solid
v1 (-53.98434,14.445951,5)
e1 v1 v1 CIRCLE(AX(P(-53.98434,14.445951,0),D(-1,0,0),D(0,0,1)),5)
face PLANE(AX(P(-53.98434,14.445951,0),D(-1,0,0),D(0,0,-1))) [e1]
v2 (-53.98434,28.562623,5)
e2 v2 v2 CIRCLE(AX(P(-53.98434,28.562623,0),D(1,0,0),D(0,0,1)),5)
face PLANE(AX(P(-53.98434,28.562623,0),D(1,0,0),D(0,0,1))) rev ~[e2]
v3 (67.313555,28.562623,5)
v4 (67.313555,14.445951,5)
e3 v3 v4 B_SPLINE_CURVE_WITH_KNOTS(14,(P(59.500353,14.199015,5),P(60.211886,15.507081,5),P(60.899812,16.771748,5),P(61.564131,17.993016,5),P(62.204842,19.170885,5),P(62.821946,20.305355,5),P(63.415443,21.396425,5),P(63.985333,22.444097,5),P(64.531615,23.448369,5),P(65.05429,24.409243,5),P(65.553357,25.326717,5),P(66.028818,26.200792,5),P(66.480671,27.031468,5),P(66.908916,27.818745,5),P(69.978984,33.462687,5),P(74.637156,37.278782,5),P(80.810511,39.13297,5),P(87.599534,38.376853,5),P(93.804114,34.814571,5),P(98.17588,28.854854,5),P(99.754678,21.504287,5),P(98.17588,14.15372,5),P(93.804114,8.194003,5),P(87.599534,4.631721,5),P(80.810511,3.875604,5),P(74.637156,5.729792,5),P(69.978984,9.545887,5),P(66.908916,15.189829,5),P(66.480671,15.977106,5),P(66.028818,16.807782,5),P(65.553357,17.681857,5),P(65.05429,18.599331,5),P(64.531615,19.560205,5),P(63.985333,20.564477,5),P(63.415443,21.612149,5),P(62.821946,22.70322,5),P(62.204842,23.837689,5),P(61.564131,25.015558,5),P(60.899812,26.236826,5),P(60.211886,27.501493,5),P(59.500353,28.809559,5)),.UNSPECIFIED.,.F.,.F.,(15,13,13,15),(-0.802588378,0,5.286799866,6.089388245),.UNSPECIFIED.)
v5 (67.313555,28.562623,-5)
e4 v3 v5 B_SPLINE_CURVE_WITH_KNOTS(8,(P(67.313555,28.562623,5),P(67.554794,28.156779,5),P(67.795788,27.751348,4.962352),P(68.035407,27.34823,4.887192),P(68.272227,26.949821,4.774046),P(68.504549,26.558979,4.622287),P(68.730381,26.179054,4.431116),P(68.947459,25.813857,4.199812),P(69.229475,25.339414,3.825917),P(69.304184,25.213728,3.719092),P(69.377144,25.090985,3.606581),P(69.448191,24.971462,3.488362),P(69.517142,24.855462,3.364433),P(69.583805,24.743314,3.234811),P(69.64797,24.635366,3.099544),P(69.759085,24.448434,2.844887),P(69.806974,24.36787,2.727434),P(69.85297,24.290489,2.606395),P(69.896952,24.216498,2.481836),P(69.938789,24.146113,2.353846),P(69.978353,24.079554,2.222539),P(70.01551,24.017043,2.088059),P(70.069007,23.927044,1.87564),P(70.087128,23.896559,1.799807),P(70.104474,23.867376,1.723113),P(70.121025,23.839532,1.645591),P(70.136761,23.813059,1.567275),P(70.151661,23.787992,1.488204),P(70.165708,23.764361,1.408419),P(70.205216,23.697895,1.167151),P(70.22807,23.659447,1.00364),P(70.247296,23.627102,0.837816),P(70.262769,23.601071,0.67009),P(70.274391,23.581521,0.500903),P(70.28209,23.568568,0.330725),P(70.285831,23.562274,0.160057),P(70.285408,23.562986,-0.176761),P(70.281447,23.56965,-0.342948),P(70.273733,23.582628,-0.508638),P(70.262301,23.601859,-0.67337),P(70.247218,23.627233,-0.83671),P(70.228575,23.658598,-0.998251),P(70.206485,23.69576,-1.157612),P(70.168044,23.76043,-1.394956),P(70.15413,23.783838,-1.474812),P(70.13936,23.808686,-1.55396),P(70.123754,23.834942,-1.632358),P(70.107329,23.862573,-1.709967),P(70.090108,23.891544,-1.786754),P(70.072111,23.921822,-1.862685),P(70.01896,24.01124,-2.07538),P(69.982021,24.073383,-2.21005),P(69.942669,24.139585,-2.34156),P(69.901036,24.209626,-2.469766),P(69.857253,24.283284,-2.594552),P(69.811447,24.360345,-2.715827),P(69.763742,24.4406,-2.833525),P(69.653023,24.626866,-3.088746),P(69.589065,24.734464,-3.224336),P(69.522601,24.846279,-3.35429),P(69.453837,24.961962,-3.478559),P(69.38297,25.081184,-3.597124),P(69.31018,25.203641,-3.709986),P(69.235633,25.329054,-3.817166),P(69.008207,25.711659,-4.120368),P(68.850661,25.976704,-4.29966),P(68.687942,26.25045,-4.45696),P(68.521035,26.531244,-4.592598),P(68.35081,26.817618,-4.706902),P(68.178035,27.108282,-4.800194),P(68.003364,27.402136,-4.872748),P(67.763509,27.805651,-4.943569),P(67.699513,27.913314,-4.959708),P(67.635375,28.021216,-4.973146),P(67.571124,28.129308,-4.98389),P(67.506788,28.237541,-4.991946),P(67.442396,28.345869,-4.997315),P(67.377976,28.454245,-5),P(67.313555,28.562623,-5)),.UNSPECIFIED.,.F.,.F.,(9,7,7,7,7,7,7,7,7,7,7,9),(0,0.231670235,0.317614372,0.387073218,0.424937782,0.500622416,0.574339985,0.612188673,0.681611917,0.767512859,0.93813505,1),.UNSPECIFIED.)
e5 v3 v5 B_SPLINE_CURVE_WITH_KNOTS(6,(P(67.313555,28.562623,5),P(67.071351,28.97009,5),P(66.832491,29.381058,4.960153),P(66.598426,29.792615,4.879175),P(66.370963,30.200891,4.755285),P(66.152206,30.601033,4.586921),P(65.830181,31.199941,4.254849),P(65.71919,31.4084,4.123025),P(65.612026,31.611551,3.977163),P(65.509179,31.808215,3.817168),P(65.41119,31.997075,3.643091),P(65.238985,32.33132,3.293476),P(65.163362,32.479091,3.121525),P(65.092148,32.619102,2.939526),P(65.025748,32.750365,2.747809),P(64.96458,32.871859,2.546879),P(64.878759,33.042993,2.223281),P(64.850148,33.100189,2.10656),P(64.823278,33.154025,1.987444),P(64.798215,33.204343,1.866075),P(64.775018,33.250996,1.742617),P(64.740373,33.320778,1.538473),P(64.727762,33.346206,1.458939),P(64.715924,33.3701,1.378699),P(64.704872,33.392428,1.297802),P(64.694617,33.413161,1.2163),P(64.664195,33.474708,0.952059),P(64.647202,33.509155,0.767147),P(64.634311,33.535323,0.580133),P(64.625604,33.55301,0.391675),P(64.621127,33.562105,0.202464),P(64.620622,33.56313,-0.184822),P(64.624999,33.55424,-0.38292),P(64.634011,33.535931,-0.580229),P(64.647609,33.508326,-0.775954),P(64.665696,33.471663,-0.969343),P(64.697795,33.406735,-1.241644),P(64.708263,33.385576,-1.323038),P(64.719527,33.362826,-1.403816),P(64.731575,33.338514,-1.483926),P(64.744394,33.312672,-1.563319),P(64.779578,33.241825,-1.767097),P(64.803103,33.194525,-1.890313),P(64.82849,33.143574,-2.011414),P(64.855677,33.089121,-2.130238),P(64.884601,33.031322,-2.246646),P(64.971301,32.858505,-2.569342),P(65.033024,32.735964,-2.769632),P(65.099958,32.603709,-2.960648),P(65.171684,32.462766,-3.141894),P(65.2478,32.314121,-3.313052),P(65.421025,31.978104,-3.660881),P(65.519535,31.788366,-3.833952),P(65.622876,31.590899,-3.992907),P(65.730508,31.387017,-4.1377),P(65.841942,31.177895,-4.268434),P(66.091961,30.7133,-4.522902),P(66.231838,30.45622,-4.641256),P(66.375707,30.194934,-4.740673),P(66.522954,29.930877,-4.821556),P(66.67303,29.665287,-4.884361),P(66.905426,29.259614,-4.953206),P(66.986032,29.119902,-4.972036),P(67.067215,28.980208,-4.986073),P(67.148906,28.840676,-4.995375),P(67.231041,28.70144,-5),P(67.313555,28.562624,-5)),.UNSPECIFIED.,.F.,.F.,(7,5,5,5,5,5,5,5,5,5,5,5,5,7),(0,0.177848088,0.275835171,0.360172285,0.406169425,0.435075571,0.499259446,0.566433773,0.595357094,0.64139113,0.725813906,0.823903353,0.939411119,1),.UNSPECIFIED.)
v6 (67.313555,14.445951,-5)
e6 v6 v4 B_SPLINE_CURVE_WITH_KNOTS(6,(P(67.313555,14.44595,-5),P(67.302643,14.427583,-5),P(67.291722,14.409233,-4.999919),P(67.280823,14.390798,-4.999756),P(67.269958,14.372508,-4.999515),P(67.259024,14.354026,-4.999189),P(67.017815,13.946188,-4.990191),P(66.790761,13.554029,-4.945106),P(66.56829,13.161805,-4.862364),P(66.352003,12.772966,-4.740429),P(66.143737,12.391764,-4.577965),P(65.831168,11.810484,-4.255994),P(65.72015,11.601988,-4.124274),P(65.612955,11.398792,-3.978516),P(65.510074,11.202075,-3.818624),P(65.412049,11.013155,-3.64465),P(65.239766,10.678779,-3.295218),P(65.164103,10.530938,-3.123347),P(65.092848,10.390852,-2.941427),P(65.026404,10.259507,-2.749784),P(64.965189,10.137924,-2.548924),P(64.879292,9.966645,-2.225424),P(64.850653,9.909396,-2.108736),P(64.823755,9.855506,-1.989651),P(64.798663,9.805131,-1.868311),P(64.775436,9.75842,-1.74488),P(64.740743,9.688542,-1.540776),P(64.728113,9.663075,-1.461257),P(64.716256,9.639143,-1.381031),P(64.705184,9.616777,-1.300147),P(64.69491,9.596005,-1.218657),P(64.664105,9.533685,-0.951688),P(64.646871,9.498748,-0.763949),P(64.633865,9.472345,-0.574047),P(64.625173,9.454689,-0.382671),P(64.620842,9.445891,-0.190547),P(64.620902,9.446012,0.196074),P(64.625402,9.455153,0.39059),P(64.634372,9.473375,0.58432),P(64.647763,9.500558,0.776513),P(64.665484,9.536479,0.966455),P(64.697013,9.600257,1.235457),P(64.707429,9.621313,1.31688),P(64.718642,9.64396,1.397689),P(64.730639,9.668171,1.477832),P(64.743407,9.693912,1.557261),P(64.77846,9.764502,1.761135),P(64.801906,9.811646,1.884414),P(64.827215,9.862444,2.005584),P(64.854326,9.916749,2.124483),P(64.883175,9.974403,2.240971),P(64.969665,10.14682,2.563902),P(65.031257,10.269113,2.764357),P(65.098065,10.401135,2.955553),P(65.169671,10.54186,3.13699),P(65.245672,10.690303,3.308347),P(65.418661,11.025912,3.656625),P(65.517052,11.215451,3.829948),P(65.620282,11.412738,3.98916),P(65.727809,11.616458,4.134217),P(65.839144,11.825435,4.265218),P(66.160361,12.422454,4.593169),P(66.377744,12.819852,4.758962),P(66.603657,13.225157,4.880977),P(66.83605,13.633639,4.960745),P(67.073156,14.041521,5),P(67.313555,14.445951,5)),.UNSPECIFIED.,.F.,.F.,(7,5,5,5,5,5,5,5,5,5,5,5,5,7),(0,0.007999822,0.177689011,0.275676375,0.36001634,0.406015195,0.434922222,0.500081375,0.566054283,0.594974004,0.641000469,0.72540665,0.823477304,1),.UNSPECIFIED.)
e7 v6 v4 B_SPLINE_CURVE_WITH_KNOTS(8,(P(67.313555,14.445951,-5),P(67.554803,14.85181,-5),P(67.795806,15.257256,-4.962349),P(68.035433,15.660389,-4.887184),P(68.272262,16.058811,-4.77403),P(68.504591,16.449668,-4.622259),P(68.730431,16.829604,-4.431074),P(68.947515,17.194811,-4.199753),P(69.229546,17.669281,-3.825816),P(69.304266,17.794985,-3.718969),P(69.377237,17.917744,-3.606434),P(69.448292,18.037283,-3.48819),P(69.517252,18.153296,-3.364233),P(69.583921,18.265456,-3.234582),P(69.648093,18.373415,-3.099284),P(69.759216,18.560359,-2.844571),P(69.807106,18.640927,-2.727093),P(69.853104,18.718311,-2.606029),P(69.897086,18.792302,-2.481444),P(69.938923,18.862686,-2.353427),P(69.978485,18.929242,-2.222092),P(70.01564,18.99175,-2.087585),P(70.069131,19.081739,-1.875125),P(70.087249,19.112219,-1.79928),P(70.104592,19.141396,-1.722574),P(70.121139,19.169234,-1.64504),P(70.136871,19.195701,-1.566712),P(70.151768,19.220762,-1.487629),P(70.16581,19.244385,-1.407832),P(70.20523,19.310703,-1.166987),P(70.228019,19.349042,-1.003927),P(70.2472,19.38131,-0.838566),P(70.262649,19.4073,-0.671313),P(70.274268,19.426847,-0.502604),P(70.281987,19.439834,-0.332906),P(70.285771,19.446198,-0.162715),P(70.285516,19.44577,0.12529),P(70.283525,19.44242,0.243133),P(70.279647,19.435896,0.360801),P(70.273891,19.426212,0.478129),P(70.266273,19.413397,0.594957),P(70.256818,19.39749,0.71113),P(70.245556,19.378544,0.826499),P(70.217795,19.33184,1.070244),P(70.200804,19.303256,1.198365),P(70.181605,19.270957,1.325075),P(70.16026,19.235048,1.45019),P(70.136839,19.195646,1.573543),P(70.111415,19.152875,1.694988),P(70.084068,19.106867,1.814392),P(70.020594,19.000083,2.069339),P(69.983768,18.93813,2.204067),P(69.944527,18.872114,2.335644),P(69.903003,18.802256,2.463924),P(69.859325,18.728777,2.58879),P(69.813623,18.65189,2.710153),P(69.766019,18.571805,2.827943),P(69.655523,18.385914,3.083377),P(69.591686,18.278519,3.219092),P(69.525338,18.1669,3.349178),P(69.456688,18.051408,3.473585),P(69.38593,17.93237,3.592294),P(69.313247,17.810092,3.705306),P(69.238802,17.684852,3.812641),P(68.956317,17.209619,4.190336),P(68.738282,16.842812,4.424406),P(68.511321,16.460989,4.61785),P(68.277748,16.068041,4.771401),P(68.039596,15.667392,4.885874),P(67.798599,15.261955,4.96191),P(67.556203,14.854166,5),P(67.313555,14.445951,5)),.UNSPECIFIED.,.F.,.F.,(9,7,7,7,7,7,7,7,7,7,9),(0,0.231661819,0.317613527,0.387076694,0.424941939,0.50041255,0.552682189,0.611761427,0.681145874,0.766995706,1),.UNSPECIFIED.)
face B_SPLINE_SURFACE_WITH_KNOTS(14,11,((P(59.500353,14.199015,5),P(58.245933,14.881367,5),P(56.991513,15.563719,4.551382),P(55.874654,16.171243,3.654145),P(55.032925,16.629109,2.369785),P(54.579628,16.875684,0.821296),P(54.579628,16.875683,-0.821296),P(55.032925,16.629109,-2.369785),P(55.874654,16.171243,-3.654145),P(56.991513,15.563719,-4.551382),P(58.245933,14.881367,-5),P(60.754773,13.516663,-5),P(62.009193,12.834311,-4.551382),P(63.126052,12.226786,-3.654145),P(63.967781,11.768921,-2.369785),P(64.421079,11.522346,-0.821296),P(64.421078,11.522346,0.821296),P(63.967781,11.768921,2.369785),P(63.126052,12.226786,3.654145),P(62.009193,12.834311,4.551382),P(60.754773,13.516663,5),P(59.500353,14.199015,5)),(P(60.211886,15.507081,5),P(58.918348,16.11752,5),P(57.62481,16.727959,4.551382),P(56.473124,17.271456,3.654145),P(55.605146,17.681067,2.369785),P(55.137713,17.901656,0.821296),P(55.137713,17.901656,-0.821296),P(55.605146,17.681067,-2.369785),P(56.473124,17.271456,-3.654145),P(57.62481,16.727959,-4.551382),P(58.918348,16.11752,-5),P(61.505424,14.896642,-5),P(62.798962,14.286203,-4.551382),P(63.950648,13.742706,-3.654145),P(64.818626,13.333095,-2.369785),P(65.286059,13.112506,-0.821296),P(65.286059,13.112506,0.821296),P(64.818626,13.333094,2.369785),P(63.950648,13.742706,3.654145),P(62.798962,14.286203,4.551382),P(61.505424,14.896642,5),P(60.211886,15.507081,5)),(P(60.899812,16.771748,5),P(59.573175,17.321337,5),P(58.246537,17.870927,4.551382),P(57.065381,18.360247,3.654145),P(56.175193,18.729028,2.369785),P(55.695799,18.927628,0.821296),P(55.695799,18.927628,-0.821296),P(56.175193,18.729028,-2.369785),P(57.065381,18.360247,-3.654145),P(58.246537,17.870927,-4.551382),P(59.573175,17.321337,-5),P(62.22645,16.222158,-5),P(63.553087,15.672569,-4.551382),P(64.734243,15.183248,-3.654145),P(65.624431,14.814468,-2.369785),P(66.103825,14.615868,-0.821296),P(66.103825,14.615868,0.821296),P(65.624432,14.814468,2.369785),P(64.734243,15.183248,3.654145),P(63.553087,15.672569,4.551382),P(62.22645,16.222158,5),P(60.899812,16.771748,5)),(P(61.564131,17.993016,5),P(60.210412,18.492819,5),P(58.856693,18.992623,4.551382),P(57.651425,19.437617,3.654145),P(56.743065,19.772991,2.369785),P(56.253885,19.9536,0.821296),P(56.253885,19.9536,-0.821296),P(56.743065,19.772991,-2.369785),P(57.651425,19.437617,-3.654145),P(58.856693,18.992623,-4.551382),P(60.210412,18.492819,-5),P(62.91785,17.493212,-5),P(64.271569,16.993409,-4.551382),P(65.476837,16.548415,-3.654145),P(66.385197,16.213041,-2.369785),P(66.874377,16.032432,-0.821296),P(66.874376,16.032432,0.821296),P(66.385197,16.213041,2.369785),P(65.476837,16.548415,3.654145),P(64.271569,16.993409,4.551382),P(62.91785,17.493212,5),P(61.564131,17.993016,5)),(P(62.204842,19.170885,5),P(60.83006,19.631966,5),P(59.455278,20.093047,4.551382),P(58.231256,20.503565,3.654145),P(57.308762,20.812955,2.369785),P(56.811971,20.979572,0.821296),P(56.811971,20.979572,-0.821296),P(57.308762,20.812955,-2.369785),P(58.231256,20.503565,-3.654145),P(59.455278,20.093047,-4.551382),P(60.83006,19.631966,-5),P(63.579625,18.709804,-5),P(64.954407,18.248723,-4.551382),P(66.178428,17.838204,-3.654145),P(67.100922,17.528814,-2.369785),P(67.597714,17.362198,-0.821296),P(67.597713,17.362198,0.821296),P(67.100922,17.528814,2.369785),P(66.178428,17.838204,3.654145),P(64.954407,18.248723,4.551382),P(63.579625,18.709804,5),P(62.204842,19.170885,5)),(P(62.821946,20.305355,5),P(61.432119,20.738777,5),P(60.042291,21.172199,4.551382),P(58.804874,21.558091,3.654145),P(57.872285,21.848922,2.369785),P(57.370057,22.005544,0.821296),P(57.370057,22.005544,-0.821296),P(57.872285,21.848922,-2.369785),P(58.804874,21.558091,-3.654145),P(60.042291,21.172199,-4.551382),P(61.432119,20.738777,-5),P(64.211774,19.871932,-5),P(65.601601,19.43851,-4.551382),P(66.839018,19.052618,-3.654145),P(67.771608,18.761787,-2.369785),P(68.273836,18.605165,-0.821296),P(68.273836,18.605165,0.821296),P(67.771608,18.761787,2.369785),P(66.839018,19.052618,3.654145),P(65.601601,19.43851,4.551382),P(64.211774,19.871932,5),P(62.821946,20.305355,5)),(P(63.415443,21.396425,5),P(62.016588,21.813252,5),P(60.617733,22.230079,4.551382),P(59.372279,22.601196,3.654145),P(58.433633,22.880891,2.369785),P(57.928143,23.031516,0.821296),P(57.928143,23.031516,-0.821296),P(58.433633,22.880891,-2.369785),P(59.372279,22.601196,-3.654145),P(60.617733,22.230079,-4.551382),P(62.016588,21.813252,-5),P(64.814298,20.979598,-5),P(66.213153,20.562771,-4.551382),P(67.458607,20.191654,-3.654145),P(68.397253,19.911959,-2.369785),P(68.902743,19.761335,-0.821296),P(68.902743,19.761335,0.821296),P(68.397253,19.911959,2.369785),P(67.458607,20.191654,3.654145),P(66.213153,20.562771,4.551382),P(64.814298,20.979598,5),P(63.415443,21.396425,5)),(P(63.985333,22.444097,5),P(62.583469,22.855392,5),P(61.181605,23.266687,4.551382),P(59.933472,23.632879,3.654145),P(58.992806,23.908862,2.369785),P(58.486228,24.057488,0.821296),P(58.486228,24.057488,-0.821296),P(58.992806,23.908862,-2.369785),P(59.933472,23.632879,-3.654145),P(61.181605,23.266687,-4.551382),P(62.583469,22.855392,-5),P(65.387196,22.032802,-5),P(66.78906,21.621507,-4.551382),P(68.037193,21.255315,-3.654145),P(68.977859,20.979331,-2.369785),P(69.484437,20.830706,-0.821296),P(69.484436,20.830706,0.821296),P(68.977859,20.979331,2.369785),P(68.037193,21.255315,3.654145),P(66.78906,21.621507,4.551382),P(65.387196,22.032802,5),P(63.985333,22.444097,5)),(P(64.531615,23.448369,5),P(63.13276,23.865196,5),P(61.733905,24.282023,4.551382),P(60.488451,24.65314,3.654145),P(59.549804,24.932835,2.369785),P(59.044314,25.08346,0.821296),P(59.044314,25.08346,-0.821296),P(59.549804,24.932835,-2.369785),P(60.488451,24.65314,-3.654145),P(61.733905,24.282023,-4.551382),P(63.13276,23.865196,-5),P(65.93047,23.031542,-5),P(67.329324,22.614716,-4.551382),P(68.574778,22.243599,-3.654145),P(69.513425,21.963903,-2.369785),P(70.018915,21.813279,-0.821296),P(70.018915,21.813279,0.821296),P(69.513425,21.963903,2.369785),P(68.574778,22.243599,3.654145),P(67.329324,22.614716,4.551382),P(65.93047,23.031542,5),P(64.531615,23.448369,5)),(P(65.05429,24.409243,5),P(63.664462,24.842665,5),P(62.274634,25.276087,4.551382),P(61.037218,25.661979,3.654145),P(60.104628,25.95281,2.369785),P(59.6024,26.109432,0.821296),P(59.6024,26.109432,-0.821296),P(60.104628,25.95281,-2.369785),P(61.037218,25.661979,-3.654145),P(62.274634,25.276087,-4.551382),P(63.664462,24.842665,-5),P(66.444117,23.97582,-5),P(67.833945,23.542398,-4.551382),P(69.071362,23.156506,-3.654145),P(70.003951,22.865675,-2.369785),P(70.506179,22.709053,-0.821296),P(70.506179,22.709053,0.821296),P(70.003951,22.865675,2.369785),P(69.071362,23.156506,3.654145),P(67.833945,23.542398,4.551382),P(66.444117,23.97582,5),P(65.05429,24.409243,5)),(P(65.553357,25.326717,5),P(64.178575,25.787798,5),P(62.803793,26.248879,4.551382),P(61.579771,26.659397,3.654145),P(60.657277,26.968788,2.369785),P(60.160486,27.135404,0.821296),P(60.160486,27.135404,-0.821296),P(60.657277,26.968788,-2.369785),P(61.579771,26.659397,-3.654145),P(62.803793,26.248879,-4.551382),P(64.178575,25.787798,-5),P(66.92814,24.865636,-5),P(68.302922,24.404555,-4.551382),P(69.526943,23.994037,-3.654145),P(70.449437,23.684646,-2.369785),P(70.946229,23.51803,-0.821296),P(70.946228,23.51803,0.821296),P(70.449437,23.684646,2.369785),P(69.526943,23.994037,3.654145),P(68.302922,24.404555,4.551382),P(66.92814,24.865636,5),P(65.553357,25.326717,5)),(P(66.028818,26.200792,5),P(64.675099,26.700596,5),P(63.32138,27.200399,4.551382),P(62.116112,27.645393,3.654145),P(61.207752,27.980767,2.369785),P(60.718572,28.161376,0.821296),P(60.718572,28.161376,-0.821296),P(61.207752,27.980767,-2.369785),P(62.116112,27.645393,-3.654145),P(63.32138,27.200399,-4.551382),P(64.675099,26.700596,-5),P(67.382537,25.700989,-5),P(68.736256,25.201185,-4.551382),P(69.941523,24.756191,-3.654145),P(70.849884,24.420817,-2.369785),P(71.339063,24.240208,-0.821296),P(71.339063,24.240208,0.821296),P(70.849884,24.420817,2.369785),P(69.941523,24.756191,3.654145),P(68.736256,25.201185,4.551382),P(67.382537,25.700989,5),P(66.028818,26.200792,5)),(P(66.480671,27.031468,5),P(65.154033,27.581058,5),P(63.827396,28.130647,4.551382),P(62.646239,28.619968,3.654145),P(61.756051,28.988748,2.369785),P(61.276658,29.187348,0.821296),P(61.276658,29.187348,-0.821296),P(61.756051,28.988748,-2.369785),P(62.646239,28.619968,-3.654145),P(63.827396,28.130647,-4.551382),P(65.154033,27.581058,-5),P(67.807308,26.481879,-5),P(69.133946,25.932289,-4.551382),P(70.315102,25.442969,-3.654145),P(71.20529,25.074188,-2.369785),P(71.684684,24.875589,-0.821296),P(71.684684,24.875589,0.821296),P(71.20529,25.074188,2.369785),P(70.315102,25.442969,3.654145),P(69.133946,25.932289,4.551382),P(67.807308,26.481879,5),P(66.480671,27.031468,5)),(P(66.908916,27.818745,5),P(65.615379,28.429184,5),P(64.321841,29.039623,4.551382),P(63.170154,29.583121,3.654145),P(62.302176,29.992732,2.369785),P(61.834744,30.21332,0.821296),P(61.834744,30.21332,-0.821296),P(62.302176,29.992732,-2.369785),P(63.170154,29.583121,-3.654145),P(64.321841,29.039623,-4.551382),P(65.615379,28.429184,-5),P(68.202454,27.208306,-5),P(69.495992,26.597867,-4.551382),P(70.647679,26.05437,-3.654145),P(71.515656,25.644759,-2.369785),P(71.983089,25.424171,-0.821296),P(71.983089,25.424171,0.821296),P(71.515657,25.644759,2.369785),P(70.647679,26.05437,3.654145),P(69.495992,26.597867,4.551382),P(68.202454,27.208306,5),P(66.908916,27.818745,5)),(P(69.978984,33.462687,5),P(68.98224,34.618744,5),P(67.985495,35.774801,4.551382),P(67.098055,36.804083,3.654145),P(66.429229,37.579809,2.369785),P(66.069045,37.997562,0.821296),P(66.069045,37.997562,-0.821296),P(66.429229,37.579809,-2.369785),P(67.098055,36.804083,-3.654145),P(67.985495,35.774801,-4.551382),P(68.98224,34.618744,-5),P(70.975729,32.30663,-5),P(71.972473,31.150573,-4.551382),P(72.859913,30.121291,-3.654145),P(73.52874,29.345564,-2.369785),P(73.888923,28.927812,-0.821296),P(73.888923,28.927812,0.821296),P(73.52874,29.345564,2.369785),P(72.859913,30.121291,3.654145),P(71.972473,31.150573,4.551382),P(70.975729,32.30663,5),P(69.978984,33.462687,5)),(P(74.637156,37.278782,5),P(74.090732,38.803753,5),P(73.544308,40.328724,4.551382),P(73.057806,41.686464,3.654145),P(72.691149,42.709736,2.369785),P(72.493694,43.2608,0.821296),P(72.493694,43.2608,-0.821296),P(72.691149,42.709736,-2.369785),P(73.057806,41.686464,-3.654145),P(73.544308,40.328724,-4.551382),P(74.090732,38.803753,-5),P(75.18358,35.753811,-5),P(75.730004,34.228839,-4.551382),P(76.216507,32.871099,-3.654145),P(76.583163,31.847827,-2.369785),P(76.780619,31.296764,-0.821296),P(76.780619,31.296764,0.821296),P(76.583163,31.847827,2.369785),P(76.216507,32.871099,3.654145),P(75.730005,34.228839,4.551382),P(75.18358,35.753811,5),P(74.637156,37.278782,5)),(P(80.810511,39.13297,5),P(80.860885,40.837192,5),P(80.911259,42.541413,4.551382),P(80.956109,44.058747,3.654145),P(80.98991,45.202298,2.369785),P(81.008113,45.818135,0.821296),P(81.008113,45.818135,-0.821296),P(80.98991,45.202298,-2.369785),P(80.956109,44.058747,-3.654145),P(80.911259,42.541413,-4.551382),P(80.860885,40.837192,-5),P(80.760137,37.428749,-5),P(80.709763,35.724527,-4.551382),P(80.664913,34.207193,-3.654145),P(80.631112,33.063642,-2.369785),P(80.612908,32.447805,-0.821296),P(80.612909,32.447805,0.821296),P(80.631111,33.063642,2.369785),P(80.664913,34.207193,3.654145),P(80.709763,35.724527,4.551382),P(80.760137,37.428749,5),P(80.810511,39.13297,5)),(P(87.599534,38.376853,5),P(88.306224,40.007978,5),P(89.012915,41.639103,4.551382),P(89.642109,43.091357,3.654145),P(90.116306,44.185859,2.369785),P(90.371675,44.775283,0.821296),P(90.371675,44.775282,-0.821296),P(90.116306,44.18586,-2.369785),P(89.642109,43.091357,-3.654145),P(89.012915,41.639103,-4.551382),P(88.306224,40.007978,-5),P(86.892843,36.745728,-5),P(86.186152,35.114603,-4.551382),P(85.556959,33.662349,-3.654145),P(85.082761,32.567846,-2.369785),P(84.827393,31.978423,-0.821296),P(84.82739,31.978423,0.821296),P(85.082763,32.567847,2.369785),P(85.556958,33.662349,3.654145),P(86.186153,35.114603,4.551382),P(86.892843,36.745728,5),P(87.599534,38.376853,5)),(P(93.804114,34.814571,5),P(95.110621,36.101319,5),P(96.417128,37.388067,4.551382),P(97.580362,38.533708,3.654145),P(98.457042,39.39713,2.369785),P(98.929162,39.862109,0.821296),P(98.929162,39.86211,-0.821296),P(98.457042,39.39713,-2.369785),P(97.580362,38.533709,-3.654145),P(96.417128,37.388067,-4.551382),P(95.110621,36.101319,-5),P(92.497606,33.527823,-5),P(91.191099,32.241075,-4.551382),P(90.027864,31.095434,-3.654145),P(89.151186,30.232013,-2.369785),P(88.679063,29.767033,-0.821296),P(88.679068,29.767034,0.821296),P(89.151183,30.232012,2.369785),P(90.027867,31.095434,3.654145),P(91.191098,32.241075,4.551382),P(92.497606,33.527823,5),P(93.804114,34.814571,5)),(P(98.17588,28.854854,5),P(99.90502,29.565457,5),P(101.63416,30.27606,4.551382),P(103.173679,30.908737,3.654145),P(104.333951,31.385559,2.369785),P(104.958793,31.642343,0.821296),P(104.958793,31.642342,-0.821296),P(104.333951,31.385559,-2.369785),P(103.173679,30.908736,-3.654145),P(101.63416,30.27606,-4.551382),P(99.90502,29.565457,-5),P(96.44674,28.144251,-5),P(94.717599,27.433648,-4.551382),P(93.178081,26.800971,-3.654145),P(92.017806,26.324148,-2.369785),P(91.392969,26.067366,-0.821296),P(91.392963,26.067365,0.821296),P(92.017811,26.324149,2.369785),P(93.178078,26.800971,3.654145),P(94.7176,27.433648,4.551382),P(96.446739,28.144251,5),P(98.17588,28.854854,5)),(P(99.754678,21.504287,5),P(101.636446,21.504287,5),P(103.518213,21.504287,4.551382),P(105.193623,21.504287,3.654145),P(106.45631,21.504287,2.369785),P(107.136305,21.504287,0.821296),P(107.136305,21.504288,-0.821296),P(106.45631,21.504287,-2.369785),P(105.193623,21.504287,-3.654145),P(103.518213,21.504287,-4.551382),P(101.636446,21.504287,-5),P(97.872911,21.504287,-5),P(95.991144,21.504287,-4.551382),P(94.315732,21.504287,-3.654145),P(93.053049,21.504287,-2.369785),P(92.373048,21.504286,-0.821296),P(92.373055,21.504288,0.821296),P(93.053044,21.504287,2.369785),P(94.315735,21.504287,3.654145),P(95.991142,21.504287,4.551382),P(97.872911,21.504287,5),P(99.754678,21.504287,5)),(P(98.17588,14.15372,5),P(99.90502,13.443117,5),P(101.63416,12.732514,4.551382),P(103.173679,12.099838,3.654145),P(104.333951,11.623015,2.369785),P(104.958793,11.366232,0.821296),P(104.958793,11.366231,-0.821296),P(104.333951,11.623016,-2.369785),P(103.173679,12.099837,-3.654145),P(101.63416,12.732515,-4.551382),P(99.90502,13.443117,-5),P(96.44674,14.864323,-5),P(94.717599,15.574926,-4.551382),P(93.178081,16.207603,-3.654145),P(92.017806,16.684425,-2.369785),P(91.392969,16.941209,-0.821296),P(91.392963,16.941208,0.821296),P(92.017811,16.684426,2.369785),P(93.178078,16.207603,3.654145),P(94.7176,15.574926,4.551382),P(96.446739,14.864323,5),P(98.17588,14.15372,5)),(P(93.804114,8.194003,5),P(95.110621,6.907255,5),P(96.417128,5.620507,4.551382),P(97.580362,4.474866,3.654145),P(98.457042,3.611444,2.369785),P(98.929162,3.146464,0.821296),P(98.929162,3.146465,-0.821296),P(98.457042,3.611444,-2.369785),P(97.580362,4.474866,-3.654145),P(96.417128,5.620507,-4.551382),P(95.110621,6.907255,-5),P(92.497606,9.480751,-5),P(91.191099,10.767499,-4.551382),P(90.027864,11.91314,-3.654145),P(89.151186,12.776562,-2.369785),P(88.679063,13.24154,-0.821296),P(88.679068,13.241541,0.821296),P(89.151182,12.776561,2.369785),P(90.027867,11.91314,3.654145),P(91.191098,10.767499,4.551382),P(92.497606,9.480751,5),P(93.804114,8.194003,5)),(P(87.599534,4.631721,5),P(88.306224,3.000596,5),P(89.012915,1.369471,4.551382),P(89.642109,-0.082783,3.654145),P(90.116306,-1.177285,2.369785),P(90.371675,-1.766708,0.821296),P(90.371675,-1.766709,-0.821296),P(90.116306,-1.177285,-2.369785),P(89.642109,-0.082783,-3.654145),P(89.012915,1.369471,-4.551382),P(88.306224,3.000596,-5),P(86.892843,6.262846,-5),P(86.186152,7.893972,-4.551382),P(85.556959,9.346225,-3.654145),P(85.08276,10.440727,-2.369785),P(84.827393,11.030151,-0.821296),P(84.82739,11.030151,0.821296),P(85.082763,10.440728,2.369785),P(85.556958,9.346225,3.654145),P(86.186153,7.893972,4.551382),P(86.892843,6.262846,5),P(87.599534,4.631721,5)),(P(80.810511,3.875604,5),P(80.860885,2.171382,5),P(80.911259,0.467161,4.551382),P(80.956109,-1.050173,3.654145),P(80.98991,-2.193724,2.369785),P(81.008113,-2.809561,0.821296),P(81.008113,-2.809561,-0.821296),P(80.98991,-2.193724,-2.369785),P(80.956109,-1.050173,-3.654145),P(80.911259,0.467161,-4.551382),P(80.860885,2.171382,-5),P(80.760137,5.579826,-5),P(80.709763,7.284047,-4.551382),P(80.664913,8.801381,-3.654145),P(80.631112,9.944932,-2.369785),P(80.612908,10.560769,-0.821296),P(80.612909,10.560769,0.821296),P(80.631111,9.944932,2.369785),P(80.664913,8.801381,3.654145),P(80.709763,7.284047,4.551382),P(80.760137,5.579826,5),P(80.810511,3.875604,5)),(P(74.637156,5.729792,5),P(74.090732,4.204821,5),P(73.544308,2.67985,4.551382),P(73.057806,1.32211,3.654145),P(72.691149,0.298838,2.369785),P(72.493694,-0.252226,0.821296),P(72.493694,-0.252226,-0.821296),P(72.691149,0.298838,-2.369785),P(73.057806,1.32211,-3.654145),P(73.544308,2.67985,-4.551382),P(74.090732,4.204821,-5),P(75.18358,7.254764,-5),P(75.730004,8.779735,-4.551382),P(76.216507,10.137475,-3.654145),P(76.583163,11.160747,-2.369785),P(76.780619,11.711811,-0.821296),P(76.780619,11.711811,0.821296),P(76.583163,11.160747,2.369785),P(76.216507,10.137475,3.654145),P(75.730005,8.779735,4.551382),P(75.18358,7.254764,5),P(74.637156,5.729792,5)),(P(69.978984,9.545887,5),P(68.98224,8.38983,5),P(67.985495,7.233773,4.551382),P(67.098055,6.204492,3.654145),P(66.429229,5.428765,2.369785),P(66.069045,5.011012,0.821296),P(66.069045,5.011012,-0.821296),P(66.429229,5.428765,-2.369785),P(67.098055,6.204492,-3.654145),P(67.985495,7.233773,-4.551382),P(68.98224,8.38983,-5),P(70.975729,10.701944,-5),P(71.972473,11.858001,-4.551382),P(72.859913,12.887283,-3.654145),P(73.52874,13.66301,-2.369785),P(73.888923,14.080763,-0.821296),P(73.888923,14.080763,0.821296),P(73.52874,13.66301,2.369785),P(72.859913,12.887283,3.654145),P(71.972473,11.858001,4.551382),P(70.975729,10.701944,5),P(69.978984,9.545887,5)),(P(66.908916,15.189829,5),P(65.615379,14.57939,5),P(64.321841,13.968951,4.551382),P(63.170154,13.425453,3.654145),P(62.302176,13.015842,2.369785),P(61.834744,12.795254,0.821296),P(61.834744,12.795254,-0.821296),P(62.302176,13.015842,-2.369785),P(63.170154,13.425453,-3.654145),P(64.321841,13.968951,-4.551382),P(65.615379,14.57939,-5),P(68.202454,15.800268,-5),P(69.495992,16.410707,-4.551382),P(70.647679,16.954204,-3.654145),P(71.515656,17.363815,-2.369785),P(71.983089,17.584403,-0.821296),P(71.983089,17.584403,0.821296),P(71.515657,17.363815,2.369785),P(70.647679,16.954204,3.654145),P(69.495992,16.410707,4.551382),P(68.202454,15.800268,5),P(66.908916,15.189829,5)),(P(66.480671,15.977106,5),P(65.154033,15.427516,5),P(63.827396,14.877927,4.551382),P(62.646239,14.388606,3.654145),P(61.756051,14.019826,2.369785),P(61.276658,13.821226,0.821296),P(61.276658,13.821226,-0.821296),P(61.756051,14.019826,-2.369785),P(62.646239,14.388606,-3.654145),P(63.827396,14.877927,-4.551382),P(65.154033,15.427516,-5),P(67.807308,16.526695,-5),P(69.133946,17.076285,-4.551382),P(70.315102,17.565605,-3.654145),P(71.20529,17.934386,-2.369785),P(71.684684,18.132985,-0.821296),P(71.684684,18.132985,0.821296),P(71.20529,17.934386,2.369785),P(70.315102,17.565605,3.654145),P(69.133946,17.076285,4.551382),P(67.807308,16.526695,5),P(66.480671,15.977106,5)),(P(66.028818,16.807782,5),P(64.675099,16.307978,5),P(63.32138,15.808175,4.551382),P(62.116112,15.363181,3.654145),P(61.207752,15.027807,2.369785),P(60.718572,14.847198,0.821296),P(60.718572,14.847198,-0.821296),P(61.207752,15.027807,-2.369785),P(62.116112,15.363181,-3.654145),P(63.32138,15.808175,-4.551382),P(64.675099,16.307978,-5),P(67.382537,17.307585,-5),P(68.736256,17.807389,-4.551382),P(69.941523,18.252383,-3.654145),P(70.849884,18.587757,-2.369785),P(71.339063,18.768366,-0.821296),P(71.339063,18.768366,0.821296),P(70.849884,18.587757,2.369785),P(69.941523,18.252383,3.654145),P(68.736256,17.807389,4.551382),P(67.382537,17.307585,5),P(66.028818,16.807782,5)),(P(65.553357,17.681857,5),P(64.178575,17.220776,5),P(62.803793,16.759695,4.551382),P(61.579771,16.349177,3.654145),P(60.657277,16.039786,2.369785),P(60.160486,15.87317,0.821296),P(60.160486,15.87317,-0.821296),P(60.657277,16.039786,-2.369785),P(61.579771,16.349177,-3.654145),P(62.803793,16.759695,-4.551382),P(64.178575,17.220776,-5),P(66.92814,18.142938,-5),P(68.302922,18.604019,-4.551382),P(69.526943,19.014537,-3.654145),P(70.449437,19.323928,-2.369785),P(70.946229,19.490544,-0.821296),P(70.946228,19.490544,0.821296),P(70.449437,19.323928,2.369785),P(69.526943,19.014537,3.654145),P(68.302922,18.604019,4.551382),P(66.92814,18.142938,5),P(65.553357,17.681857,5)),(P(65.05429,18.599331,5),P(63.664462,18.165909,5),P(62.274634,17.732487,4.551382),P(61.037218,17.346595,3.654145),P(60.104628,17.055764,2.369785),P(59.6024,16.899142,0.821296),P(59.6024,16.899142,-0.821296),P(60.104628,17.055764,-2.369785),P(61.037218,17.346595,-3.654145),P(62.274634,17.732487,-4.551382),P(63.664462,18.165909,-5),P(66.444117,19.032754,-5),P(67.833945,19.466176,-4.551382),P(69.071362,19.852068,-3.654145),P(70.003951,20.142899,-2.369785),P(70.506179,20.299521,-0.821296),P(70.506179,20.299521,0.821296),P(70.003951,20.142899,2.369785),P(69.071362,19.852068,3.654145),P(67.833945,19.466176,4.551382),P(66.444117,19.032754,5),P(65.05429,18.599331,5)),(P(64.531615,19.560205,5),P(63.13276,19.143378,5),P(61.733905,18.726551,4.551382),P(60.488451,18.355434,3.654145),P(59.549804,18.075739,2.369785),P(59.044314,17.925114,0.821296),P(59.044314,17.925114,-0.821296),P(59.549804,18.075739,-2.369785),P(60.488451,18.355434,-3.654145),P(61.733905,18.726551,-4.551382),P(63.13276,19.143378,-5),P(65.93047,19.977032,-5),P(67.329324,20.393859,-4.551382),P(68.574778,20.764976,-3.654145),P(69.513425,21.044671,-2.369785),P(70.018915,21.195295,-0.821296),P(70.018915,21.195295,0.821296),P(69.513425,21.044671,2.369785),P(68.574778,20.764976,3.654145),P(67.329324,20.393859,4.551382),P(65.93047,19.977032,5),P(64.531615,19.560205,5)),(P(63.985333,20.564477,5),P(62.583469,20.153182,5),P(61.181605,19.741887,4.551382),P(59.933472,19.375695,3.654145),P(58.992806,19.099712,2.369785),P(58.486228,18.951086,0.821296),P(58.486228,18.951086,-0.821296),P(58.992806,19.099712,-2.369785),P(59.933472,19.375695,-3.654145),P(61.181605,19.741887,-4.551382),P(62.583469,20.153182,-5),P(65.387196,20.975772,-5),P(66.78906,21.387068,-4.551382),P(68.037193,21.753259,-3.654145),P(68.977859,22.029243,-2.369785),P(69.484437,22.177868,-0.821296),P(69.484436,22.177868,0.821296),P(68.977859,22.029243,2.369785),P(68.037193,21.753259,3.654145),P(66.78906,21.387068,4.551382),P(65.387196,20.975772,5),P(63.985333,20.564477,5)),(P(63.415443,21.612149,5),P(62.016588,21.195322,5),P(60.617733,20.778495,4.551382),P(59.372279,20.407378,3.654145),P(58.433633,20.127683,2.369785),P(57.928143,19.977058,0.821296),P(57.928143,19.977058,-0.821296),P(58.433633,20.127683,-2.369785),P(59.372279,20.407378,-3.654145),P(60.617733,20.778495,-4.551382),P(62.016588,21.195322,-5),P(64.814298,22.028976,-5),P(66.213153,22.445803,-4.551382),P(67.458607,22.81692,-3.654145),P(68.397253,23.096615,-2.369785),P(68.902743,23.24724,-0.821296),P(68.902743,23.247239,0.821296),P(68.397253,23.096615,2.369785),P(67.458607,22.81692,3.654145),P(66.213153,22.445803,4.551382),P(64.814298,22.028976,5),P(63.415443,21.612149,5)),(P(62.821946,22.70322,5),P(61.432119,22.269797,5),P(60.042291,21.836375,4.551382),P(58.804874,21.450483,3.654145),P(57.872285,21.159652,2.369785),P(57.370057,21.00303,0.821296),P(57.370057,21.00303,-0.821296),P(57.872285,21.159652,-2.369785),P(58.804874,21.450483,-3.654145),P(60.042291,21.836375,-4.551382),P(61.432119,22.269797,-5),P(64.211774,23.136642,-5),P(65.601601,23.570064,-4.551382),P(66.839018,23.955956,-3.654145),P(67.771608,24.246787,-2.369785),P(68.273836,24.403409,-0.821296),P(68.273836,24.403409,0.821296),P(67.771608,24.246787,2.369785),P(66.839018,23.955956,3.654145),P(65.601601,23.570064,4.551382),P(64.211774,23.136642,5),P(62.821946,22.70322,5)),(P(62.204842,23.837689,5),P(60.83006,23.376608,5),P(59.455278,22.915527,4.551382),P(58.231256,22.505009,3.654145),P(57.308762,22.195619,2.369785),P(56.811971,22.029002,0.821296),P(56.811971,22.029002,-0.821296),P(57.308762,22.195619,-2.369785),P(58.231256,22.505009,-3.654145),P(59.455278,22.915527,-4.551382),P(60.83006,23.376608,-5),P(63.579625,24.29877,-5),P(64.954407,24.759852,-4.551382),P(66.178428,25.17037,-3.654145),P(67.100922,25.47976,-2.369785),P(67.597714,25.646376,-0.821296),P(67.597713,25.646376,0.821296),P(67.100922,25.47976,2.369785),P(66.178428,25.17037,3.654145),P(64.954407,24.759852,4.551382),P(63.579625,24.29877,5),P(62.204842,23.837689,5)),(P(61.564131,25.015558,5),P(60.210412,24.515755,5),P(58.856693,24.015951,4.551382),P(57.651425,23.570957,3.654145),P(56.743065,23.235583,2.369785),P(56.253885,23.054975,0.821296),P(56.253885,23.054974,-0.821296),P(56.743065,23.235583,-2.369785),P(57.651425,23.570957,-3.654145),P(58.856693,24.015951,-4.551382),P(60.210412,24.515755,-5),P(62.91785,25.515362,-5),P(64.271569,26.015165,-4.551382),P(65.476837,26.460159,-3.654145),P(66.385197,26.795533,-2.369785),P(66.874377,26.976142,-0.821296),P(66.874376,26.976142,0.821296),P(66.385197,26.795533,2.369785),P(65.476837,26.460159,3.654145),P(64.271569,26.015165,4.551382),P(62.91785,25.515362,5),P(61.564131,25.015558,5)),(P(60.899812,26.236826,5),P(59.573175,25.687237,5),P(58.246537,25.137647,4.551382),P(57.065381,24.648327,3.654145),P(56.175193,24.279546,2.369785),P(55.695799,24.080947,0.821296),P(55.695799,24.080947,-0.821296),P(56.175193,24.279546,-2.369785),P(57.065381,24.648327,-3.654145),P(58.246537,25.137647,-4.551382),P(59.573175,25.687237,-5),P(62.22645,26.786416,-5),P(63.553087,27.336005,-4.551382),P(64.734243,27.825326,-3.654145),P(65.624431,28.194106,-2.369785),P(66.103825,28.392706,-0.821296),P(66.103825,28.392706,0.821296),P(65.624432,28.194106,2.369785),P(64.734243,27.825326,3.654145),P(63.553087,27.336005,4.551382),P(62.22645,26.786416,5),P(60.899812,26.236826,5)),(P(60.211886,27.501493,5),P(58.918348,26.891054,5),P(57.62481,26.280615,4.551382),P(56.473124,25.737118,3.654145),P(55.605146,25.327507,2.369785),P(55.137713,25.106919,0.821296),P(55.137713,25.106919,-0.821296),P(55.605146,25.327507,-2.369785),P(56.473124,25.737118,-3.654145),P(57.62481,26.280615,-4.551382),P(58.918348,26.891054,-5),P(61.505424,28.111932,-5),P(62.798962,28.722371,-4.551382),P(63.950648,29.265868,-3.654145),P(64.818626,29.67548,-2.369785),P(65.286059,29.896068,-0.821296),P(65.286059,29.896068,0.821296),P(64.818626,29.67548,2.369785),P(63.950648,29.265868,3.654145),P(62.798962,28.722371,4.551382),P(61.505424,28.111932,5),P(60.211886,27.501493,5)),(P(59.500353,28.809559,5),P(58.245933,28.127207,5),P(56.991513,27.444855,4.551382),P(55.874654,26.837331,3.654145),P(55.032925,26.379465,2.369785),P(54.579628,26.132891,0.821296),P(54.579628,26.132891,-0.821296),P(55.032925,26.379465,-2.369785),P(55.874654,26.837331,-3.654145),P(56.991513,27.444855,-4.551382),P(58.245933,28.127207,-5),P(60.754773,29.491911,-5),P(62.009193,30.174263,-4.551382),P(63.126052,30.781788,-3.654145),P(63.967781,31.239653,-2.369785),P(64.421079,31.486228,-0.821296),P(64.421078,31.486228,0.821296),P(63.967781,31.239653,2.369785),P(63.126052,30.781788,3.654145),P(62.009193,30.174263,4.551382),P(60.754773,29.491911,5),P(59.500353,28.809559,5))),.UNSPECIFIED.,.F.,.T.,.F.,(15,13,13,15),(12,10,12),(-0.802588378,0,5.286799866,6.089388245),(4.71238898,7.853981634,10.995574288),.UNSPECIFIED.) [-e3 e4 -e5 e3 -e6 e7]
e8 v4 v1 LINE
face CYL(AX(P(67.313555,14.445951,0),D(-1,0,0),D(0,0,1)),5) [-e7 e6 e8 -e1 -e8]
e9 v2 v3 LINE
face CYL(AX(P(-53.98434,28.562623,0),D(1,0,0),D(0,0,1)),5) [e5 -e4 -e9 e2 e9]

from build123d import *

# Parameters (mm, degrees)
SWEEP2_PROFILE_R = 5


with BuildPart() as part:
    # Sweep2: sweep along a path in Sketch1
    with BuildLine(Plane.XY) as sweep2_path:
        Line((-53.984339727, 28.562623383), (67.313554908, 28.562623383))
        ThreePointArc((67.313554908, 28.562623383), (95.060814118, 21.504287062), (67.313554908, 14.44595074))
        Line((67.313554908, 14.44595074), (-53.984339727, 14.44595074))
    # Sweep2 profile (on start of the path) → Sweep2 (sweep)
    with BuildSketch(Plane(origin=(-53.984339727, 28.562623383, 0), x_dir=(0, 0, 1), z_dir=(1, 0, 0))):
        Circle(SWEEP2_PROFILE_R)
    sweep(path=sweep2_path.line, transition=Transition.RIGHT)


solid = part.part
